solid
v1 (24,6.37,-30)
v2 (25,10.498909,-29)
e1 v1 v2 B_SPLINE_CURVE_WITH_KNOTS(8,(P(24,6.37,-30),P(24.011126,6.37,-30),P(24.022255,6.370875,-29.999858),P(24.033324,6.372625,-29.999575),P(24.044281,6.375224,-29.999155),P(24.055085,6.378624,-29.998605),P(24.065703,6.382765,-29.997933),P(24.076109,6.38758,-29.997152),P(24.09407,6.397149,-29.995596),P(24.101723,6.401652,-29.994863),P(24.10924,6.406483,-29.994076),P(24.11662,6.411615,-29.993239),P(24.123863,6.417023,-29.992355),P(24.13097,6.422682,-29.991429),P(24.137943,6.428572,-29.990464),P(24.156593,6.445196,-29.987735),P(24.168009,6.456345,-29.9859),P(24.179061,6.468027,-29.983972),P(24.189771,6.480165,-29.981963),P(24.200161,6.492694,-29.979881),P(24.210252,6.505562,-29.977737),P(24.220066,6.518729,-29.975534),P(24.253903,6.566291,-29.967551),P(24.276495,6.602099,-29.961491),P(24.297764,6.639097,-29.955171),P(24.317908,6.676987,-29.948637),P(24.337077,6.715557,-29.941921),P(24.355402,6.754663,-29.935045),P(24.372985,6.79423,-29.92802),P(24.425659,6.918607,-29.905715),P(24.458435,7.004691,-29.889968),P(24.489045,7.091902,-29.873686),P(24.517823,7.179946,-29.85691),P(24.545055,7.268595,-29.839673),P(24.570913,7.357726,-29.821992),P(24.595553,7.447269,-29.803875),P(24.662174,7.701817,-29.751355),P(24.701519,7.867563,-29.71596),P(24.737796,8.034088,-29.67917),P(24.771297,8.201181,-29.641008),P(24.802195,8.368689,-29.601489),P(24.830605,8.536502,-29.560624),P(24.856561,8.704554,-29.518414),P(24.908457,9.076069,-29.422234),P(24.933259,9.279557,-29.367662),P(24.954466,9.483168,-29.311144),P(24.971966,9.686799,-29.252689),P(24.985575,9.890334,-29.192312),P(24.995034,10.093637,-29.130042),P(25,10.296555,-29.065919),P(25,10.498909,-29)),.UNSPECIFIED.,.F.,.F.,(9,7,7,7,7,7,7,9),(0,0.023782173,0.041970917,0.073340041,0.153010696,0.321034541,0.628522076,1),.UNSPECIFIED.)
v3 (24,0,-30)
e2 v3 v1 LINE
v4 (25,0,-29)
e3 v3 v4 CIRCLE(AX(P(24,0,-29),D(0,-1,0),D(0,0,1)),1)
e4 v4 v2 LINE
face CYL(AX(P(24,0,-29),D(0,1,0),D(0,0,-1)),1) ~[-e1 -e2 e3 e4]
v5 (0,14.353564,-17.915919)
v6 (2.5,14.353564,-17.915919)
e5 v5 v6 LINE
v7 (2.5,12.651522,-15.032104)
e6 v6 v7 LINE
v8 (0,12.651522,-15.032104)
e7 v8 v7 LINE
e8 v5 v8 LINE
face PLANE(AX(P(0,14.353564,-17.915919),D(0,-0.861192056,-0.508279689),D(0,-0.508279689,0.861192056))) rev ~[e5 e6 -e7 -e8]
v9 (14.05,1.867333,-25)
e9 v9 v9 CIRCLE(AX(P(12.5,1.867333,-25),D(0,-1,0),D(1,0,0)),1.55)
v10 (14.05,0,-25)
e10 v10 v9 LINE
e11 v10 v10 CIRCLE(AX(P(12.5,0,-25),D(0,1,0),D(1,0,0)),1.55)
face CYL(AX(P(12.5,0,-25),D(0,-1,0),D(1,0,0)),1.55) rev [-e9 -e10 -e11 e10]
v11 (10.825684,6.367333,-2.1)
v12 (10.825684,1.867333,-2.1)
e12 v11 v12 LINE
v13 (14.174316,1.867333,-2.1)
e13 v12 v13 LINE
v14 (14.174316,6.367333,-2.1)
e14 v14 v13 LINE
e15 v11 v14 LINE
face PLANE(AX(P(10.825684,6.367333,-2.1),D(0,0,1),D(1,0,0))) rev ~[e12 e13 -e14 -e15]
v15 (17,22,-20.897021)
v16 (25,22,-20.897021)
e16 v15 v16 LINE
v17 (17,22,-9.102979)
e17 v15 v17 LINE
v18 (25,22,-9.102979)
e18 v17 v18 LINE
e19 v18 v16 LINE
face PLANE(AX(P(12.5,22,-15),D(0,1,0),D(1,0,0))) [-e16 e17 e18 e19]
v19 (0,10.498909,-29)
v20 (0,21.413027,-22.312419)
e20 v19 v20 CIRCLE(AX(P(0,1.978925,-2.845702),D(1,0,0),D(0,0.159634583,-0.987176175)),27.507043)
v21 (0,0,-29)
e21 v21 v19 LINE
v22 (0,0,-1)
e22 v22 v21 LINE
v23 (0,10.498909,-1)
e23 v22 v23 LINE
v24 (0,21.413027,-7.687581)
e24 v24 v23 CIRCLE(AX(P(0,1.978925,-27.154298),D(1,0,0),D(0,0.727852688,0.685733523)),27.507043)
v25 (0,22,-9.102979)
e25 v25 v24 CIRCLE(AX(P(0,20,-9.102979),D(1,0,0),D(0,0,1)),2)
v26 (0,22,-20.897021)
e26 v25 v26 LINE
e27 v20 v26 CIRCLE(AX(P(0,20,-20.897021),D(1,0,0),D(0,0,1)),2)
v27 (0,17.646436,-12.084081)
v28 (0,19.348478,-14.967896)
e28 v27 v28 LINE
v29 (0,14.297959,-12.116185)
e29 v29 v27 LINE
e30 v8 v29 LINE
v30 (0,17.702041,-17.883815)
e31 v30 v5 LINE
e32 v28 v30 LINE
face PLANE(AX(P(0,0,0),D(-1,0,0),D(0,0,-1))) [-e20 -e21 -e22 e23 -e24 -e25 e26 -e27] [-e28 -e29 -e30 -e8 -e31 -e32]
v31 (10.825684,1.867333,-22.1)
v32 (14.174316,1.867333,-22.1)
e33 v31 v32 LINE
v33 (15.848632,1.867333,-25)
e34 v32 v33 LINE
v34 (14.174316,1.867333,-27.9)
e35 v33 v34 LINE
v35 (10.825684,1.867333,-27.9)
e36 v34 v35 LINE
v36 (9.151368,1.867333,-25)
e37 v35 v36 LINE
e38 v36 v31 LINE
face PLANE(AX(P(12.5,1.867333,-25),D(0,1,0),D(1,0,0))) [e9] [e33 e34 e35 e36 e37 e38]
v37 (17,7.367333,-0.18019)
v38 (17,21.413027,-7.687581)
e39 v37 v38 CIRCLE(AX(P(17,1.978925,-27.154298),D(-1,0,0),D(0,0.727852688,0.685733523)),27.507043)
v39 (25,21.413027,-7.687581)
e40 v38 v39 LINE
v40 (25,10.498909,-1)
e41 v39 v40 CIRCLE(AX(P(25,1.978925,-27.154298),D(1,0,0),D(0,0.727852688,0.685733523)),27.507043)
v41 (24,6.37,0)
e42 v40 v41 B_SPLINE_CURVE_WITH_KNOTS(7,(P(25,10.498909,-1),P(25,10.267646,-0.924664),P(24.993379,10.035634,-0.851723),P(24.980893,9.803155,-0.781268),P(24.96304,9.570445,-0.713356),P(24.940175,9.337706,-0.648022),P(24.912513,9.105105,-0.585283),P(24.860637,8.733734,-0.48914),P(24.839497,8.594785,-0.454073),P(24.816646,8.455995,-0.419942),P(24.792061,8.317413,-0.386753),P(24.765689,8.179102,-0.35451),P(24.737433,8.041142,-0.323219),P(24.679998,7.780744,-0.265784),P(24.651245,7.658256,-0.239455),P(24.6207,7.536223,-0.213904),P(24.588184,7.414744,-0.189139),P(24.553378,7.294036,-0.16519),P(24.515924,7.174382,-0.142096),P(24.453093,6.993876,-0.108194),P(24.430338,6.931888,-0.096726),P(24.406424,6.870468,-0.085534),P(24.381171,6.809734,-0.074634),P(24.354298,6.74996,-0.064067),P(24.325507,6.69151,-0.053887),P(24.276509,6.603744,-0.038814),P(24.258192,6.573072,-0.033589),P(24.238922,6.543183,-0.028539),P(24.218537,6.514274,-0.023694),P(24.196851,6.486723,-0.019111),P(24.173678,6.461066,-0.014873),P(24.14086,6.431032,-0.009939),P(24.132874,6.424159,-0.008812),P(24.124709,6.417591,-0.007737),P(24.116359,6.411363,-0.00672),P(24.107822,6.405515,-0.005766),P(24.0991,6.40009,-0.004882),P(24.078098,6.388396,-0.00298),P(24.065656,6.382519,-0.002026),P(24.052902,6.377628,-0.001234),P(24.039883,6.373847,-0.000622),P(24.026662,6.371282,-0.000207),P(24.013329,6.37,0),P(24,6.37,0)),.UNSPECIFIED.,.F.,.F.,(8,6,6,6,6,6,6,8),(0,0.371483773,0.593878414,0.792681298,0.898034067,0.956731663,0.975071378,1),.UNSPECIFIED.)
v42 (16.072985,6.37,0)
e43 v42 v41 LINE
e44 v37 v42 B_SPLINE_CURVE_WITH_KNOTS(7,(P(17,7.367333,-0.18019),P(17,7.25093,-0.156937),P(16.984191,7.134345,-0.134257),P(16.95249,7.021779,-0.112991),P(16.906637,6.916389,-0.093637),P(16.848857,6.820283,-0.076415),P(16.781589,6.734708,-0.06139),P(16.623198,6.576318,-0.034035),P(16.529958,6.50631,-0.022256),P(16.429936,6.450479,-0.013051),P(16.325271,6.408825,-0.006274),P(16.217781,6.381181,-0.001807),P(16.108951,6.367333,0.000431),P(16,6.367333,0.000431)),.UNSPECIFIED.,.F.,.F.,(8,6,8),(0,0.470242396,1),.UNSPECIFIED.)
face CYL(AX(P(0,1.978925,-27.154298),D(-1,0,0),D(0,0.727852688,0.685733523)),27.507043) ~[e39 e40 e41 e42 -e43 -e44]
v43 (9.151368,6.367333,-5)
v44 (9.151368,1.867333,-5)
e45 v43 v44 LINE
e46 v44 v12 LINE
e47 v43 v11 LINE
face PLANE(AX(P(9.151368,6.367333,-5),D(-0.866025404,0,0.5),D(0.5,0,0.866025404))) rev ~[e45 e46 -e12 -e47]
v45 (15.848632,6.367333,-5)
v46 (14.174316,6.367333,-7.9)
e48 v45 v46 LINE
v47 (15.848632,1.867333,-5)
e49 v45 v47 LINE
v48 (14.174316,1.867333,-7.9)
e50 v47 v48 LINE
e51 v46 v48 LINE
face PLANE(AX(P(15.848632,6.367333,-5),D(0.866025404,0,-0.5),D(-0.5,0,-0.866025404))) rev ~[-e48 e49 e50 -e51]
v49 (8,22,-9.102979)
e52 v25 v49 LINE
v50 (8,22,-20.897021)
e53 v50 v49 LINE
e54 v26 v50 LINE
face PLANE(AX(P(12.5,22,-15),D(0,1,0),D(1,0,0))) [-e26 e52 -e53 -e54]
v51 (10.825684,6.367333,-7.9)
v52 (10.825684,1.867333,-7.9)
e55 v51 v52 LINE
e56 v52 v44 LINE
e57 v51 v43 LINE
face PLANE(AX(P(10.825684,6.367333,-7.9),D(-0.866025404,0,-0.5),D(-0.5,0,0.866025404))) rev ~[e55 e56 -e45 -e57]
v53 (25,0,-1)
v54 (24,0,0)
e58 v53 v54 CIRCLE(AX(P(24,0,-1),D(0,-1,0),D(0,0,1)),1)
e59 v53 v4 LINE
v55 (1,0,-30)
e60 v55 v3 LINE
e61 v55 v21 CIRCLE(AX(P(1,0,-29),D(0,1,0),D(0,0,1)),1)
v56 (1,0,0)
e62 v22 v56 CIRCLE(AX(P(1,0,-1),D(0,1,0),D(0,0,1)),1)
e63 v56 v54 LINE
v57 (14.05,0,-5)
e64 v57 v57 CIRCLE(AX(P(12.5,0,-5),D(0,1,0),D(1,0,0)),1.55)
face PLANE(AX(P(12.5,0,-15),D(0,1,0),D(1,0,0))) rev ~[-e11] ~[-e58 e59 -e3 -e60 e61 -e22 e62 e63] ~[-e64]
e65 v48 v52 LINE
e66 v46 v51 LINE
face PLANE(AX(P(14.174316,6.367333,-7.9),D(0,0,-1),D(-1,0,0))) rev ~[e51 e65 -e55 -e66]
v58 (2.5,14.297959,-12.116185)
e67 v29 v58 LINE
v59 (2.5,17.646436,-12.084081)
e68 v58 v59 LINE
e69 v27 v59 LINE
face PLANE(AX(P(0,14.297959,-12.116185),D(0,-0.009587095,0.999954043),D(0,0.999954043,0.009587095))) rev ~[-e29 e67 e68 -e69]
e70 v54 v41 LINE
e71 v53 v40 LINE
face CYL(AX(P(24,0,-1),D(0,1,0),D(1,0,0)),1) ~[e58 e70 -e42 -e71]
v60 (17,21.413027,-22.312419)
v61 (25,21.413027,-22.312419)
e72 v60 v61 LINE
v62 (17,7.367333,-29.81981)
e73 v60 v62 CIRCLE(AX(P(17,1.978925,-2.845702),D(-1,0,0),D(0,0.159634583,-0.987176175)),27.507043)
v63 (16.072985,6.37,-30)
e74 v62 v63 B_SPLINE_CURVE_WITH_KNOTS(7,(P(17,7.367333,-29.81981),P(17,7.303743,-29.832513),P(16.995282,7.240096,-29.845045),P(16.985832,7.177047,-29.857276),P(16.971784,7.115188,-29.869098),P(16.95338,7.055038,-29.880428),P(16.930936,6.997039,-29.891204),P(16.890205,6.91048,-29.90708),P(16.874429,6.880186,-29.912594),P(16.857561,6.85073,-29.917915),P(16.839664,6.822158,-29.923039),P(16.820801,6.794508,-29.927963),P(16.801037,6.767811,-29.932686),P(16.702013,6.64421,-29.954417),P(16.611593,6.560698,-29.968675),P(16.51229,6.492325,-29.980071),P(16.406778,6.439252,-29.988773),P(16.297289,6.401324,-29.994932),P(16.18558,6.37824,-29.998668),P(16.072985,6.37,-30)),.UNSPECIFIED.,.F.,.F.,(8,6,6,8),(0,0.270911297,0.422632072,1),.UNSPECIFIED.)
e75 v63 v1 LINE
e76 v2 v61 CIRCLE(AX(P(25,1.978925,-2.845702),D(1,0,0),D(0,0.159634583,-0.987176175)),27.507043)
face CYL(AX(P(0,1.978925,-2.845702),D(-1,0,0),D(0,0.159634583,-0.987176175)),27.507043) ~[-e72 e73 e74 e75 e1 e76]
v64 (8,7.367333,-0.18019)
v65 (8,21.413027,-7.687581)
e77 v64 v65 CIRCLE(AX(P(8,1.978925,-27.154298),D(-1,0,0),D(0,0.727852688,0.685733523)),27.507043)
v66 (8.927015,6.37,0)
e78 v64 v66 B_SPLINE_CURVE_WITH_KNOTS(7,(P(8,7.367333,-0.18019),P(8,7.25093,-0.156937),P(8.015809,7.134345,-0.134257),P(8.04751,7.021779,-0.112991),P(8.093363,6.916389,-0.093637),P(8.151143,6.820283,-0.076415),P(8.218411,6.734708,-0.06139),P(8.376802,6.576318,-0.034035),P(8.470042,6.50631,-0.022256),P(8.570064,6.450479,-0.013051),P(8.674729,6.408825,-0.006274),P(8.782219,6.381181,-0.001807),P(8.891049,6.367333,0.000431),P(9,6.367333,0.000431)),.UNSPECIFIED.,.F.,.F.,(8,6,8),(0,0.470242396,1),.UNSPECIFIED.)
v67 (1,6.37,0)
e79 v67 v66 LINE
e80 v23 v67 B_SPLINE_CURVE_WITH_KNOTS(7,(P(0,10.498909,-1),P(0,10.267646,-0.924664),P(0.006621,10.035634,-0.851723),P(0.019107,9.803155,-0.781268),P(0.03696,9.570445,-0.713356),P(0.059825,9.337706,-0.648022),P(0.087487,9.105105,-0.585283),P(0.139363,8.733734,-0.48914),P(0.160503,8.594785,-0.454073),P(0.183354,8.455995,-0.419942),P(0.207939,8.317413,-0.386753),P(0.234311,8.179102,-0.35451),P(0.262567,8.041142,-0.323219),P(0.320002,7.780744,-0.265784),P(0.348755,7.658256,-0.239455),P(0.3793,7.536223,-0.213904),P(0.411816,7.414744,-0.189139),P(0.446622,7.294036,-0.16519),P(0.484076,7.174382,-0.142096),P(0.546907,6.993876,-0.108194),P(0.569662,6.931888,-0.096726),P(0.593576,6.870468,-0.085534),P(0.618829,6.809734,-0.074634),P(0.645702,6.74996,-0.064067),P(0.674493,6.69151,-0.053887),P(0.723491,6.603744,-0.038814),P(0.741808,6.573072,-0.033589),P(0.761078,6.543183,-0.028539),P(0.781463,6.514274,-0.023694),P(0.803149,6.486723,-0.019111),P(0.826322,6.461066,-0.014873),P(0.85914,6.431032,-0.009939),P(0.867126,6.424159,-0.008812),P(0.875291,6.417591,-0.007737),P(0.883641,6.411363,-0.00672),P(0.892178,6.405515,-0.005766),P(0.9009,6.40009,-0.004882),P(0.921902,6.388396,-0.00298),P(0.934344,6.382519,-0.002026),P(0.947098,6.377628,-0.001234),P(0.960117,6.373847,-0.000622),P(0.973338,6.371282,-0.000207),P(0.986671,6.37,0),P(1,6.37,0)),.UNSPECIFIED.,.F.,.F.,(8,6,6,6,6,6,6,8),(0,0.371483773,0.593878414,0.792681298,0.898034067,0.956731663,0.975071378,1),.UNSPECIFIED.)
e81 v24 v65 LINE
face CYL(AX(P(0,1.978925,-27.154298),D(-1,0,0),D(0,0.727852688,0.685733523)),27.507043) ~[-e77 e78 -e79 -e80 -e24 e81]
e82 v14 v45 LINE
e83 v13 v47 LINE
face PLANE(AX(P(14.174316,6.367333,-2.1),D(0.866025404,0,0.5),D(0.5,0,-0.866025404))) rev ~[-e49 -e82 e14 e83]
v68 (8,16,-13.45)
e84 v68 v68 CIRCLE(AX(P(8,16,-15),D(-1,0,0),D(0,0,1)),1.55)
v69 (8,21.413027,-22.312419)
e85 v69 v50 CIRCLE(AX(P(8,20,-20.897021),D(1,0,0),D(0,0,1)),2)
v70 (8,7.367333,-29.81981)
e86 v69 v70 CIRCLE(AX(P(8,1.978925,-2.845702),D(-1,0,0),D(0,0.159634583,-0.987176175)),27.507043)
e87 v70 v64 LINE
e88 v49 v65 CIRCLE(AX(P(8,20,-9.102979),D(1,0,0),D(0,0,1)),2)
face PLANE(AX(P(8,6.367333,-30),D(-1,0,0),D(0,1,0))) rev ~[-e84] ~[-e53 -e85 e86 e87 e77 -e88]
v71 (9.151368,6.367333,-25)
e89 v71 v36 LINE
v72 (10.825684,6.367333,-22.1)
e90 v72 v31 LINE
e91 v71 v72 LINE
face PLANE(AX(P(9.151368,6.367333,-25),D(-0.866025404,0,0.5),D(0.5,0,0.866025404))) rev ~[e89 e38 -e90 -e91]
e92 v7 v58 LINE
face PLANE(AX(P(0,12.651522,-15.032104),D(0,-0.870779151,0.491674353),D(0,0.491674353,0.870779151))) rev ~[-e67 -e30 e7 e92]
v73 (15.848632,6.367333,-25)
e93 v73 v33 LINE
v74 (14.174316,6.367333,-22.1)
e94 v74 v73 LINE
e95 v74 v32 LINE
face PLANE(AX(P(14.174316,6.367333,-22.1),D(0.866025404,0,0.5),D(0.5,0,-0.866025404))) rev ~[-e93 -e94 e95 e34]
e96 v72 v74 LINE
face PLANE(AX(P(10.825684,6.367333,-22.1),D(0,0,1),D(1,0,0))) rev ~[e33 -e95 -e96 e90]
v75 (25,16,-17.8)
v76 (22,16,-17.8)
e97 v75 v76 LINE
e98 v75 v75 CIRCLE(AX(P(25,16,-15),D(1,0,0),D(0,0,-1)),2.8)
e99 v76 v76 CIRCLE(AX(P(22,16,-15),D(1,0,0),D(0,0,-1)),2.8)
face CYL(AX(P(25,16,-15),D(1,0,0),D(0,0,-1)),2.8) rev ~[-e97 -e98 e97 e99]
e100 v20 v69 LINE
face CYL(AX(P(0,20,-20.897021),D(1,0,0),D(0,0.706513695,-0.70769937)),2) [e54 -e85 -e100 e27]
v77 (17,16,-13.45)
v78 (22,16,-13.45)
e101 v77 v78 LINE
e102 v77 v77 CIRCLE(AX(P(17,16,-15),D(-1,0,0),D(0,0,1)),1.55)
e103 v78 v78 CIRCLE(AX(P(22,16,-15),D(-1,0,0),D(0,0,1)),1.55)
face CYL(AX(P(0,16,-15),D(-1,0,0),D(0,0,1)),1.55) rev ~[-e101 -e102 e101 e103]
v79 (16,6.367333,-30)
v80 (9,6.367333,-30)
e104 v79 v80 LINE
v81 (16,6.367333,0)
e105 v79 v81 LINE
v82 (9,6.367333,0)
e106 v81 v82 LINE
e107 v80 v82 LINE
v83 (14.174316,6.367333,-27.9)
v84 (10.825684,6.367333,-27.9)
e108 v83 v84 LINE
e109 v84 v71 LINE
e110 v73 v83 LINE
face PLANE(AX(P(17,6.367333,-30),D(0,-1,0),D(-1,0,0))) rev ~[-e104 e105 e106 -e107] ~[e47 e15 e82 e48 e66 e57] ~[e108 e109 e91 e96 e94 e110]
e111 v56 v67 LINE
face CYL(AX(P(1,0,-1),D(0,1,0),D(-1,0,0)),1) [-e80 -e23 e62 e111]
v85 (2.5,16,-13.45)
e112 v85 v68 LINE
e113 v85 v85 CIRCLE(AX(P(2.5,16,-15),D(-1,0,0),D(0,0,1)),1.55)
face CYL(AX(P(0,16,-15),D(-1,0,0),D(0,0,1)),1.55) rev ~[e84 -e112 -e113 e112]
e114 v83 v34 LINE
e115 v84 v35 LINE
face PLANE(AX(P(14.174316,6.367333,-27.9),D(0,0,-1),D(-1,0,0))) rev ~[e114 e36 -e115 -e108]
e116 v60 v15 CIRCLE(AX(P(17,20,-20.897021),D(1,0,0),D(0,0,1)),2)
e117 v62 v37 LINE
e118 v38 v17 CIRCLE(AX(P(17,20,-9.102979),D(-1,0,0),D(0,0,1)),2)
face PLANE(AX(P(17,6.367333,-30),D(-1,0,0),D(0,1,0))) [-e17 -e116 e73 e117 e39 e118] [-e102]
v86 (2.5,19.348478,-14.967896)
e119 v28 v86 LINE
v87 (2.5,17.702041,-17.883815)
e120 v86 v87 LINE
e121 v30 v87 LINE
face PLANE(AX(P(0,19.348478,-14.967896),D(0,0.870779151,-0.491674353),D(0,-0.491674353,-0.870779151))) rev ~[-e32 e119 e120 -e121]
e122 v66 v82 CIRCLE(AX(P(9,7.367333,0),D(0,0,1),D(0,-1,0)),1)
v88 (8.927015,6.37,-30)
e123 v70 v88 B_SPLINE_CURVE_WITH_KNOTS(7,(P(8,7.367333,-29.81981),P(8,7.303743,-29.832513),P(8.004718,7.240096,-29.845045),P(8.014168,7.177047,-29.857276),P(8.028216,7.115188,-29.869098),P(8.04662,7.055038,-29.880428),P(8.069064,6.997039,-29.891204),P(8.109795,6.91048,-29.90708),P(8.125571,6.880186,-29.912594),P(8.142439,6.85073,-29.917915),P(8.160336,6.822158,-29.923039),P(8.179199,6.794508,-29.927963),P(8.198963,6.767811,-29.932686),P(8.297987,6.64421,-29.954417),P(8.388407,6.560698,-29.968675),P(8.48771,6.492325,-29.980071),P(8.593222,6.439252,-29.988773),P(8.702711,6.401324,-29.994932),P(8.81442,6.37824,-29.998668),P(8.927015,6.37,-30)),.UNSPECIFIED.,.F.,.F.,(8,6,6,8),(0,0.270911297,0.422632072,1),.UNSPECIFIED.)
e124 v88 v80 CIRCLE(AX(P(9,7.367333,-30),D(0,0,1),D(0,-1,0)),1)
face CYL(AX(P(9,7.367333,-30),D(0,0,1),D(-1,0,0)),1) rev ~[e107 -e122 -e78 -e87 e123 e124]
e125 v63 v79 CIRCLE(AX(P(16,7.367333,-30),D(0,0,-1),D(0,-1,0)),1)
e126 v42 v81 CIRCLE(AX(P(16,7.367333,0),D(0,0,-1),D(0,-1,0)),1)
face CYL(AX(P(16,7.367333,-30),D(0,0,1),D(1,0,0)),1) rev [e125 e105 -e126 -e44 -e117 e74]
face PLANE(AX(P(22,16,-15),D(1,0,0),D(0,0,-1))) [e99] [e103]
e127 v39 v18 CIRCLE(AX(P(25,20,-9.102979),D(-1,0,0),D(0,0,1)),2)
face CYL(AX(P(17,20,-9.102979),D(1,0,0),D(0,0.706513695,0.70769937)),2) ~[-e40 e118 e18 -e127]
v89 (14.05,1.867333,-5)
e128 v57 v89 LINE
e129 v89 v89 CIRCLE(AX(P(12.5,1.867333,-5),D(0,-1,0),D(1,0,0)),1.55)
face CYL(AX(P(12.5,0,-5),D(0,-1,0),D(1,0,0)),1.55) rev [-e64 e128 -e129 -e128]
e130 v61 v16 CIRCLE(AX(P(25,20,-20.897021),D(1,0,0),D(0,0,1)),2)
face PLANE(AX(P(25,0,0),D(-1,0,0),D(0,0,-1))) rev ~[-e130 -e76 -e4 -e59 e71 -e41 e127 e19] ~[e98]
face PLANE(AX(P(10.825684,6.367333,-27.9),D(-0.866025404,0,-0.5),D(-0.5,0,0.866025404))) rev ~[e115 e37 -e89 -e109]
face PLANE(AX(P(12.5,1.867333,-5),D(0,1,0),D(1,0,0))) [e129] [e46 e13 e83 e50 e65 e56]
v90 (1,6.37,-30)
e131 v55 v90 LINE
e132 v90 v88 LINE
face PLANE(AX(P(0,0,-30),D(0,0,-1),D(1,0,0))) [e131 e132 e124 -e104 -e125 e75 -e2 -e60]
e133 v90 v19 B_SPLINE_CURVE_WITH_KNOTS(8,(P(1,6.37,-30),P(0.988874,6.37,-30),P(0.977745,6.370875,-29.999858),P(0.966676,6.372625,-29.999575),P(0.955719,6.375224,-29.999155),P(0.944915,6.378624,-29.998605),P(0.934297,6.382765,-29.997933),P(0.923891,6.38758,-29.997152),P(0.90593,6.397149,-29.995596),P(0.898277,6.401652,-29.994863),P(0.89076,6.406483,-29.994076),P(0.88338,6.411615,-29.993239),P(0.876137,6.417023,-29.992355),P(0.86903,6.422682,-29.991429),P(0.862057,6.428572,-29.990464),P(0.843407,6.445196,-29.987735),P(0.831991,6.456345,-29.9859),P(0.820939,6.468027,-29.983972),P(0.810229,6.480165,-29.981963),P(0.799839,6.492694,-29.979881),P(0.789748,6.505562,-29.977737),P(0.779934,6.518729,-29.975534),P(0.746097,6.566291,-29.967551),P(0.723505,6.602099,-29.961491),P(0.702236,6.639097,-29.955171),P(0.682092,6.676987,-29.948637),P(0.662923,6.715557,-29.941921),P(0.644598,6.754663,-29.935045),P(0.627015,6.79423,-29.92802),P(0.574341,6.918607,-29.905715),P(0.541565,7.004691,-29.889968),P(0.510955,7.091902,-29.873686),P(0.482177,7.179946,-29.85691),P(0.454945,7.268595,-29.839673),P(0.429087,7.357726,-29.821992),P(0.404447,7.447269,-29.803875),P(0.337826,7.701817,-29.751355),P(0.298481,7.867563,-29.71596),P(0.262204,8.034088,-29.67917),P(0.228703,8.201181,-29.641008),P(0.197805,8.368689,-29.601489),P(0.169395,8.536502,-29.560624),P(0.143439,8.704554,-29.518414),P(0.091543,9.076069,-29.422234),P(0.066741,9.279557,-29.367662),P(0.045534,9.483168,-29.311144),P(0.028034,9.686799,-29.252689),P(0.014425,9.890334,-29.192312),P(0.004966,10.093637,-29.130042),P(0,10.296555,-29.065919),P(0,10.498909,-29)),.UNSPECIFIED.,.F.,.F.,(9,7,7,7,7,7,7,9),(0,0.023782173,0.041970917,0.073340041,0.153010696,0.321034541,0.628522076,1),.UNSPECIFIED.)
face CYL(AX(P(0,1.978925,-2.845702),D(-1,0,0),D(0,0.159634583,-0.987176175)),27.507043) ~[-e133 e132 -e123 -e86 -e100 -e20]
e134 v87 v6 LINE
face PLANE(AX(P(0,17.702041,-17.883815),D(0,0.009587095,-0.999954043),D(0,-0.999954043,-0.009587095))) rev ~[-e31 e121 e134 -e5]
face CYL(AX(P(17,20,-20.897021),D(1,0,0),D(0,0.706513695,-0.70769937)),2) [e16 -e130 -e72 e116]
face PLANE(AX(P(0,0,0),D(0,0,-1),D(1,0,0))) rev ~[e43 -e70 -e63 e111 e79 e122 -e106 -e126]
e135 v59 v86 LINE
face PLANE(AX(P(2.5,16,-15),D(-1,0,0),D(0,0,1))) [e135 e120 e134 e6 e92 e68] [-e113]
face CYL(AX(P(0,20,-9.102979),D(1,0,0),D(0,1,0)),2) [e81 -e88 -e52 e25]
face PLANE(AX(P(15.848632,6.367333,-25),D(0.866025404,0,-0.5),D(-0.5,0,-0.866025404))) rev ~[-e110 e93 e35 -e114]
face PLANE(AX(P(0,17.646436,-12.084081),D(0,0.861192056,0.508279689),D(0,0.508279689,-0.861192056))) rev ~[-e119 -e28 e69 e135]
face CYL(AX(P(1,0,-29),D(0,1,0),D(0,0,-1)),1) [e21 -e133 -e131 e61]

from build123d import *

# Parameters (mm, degrees)
CROQUIS1_W              = 25
CROQUIS1_H              = 30
CROQUIS1_R              = 1.55
SALIENTE_EXTRUIR1_DEPTH = 22
CROQUIS2_W              = 9
CROQUIS2_H              = 15.632666969
CORTAR_EXTRUIR1_DEPTH   = 30
CROQUIS3_R              = 1.55
CORTAR_EXTRUIR2_DEPTH   = 25
CORTAR_EXTRUIR3_DEPTH   = 2.5
CROQUIS5_R              = 2.8
CORTAR_EXTRUIR4_DEPTH   = 3
CORTAR_EXTRUIR5_DEPTH   = 4.5
CORTAR_EXTRUIR6_DEPTH   = 25
REDONDEO1_R             = 2
REDONDEO2_R             = 1
REDONDEO3_R             = 1


with BuildPart() as part:
    # Croquis1 → Saliente-Extruir1 (new body)
    with BuildSketch(Plane(origin=(0, 0, 0), x_dir=(1, 0, 0), z_dir=(0, 1, 0))):
        with Locations((12.5, 15)):
            Rectangle(CROQUIS1_W, CROQUIS1_H)
        with Locations((12.5, 25)):
            Circle(CROQUIS1_R, mode=Mode.SUBTRACT)
        with Locations((12.5, 5)):
            Circle(CROQUIS1_R, mode=Mode.SUBTRACT)
    extrude(amount=SALIENTE_EXTRUIR1_DEPTH)

    # Croquis2 → Cortar-Extruir1 (cut)
    with BuildSketch(Plane(origin=(0, 0, -30), x_dir=(-1, 0, 0), z_dir=(0, 0, -1))):
        with Locations((-12.5, 14.183666516)):
            Rectangle(CROQUIS2_W, CROQUIS2_H)
    extrude(amount=-CORTAR_EXTRUIR1_DEPTH, mode=Mode.SUBTRACT)

    # Croquis3 → Cortar-Extruir2 (cut)
    with BuildSketch(Plane.ZY):
        with Locations((-15, 16)):
            Circle(CROQUIS3_R)
    extrude(amount=-CORTAR_EXTRUIR2_DEPTH, mode=Mode.SUBTRACT)

    # Croquis4 → Cortar-Extruir3 (cut)
    with BuildSketch(Plane.ZY):
        Polygon((-14.967896351, 19.348477667), (-17.8838149, 17.702041409), (-17.915918548, 14.353563741), (-15.032103649, 12.651522333), (-12.1161851, 14.297958591), (-12.084081452, 17.646436259), align=None)
    extrude(amount=-CORTAR_EXTRUIR3_DEPTH, mode=Mode.SUBTRACT)

    # Croquis5 → Cortar-Extruir4 (cut)
    with BuildSketch(Plane(origin=(25, 0, 0), x_dir=(0, 0, -1), z_dir=(1, 0, 0))):
        with Locations((15, 16)):
            Circle(CROQUIS5_R)
    extrude(amount=-CORTAR_EXTRUIR4_DEPTH, mode=Mode.SUBTRACT)

    # Croquis6 → Cortar-Extruir5 (cut)
    with BuildSketch(Plane(origin=(0, 6.367333031, 0), x_dir=(1, 0, 0), z_dir=(0, 1, 0))):
        Polygon((15.848631561, 25), (14.174315781, 27.9), (10.825684219, 27.9), (9.151368439, 25), (10.825684219, 22.1), (14.174315781, 22.1), align=None)
        Polygon((15.848631561, 5), (14.174315781, 7.9), (10.825684219, 7.9), (9.151368439, 5), (10.825684219, 2.1), (14.174315781, 2.1), align=None)
    extrude(amount=-CORTAR_EXTRUIR5_DEPTH, mode=Mode.SUBTRACT)

    # Croquis7 → Cortar-Extruir6 (cut)
    with BuildSketch(Plane.ZY):
        with BuildLine():
            Line((-21.708203932, 22), (-30, 22))
            Line((-30, 22), (-30, 6.37))
            ThreePointArc((-30, 6.37), (-27.145099003, 14.869880624), (-21.708203932, 22))
        make_face()
        with BuildLine():
            Line((0, 22), (-8.291796068, 22))
            ThreePointArc((-8.291796068, 22), (-2.854900997, 14.869880624), (0, 6.37))
            Line((0, 6.37), (0, 22))
        make_face()
    extrude(amount=-CORTAR_EXTRUIR6_DEPTH, mode=Mode.SUBTRACT)

    # Redondeo1
    redondeo1_edges = [part.edges().sort_by_distance(p)[0] for p in [
        (4, 22, -21.708203932),
        (21, 22, -21.708203932),
        (4, 22, -8.291796068),
        (21, 22, -8.291796068),
    ]]
    fillet(redondeo1_edges, radius=REDONDEO1_R)

    # Redondeo2
    redondeo2_edges = [part.edges().sort_by_distance(p)[0] for p in [
        (17, 6.367333031, -15),
        (8, 6.367333031, -15),
    ]]
    fillet(redondeo2_edges, radius=REDONDEO2_R)

    # Redondeo3
    redondeo3_edges = [part.edges().sort_by_distance(p)[0] for p in [
        (25, 3.185, -30),
        (0, 3.185, -30),
        (25, 3.185, 0),
        (0, 3.185, 0),
    ]]
    fillet(redondeo3_edges, radius=REDONDEO3_R)


solid = part.part
